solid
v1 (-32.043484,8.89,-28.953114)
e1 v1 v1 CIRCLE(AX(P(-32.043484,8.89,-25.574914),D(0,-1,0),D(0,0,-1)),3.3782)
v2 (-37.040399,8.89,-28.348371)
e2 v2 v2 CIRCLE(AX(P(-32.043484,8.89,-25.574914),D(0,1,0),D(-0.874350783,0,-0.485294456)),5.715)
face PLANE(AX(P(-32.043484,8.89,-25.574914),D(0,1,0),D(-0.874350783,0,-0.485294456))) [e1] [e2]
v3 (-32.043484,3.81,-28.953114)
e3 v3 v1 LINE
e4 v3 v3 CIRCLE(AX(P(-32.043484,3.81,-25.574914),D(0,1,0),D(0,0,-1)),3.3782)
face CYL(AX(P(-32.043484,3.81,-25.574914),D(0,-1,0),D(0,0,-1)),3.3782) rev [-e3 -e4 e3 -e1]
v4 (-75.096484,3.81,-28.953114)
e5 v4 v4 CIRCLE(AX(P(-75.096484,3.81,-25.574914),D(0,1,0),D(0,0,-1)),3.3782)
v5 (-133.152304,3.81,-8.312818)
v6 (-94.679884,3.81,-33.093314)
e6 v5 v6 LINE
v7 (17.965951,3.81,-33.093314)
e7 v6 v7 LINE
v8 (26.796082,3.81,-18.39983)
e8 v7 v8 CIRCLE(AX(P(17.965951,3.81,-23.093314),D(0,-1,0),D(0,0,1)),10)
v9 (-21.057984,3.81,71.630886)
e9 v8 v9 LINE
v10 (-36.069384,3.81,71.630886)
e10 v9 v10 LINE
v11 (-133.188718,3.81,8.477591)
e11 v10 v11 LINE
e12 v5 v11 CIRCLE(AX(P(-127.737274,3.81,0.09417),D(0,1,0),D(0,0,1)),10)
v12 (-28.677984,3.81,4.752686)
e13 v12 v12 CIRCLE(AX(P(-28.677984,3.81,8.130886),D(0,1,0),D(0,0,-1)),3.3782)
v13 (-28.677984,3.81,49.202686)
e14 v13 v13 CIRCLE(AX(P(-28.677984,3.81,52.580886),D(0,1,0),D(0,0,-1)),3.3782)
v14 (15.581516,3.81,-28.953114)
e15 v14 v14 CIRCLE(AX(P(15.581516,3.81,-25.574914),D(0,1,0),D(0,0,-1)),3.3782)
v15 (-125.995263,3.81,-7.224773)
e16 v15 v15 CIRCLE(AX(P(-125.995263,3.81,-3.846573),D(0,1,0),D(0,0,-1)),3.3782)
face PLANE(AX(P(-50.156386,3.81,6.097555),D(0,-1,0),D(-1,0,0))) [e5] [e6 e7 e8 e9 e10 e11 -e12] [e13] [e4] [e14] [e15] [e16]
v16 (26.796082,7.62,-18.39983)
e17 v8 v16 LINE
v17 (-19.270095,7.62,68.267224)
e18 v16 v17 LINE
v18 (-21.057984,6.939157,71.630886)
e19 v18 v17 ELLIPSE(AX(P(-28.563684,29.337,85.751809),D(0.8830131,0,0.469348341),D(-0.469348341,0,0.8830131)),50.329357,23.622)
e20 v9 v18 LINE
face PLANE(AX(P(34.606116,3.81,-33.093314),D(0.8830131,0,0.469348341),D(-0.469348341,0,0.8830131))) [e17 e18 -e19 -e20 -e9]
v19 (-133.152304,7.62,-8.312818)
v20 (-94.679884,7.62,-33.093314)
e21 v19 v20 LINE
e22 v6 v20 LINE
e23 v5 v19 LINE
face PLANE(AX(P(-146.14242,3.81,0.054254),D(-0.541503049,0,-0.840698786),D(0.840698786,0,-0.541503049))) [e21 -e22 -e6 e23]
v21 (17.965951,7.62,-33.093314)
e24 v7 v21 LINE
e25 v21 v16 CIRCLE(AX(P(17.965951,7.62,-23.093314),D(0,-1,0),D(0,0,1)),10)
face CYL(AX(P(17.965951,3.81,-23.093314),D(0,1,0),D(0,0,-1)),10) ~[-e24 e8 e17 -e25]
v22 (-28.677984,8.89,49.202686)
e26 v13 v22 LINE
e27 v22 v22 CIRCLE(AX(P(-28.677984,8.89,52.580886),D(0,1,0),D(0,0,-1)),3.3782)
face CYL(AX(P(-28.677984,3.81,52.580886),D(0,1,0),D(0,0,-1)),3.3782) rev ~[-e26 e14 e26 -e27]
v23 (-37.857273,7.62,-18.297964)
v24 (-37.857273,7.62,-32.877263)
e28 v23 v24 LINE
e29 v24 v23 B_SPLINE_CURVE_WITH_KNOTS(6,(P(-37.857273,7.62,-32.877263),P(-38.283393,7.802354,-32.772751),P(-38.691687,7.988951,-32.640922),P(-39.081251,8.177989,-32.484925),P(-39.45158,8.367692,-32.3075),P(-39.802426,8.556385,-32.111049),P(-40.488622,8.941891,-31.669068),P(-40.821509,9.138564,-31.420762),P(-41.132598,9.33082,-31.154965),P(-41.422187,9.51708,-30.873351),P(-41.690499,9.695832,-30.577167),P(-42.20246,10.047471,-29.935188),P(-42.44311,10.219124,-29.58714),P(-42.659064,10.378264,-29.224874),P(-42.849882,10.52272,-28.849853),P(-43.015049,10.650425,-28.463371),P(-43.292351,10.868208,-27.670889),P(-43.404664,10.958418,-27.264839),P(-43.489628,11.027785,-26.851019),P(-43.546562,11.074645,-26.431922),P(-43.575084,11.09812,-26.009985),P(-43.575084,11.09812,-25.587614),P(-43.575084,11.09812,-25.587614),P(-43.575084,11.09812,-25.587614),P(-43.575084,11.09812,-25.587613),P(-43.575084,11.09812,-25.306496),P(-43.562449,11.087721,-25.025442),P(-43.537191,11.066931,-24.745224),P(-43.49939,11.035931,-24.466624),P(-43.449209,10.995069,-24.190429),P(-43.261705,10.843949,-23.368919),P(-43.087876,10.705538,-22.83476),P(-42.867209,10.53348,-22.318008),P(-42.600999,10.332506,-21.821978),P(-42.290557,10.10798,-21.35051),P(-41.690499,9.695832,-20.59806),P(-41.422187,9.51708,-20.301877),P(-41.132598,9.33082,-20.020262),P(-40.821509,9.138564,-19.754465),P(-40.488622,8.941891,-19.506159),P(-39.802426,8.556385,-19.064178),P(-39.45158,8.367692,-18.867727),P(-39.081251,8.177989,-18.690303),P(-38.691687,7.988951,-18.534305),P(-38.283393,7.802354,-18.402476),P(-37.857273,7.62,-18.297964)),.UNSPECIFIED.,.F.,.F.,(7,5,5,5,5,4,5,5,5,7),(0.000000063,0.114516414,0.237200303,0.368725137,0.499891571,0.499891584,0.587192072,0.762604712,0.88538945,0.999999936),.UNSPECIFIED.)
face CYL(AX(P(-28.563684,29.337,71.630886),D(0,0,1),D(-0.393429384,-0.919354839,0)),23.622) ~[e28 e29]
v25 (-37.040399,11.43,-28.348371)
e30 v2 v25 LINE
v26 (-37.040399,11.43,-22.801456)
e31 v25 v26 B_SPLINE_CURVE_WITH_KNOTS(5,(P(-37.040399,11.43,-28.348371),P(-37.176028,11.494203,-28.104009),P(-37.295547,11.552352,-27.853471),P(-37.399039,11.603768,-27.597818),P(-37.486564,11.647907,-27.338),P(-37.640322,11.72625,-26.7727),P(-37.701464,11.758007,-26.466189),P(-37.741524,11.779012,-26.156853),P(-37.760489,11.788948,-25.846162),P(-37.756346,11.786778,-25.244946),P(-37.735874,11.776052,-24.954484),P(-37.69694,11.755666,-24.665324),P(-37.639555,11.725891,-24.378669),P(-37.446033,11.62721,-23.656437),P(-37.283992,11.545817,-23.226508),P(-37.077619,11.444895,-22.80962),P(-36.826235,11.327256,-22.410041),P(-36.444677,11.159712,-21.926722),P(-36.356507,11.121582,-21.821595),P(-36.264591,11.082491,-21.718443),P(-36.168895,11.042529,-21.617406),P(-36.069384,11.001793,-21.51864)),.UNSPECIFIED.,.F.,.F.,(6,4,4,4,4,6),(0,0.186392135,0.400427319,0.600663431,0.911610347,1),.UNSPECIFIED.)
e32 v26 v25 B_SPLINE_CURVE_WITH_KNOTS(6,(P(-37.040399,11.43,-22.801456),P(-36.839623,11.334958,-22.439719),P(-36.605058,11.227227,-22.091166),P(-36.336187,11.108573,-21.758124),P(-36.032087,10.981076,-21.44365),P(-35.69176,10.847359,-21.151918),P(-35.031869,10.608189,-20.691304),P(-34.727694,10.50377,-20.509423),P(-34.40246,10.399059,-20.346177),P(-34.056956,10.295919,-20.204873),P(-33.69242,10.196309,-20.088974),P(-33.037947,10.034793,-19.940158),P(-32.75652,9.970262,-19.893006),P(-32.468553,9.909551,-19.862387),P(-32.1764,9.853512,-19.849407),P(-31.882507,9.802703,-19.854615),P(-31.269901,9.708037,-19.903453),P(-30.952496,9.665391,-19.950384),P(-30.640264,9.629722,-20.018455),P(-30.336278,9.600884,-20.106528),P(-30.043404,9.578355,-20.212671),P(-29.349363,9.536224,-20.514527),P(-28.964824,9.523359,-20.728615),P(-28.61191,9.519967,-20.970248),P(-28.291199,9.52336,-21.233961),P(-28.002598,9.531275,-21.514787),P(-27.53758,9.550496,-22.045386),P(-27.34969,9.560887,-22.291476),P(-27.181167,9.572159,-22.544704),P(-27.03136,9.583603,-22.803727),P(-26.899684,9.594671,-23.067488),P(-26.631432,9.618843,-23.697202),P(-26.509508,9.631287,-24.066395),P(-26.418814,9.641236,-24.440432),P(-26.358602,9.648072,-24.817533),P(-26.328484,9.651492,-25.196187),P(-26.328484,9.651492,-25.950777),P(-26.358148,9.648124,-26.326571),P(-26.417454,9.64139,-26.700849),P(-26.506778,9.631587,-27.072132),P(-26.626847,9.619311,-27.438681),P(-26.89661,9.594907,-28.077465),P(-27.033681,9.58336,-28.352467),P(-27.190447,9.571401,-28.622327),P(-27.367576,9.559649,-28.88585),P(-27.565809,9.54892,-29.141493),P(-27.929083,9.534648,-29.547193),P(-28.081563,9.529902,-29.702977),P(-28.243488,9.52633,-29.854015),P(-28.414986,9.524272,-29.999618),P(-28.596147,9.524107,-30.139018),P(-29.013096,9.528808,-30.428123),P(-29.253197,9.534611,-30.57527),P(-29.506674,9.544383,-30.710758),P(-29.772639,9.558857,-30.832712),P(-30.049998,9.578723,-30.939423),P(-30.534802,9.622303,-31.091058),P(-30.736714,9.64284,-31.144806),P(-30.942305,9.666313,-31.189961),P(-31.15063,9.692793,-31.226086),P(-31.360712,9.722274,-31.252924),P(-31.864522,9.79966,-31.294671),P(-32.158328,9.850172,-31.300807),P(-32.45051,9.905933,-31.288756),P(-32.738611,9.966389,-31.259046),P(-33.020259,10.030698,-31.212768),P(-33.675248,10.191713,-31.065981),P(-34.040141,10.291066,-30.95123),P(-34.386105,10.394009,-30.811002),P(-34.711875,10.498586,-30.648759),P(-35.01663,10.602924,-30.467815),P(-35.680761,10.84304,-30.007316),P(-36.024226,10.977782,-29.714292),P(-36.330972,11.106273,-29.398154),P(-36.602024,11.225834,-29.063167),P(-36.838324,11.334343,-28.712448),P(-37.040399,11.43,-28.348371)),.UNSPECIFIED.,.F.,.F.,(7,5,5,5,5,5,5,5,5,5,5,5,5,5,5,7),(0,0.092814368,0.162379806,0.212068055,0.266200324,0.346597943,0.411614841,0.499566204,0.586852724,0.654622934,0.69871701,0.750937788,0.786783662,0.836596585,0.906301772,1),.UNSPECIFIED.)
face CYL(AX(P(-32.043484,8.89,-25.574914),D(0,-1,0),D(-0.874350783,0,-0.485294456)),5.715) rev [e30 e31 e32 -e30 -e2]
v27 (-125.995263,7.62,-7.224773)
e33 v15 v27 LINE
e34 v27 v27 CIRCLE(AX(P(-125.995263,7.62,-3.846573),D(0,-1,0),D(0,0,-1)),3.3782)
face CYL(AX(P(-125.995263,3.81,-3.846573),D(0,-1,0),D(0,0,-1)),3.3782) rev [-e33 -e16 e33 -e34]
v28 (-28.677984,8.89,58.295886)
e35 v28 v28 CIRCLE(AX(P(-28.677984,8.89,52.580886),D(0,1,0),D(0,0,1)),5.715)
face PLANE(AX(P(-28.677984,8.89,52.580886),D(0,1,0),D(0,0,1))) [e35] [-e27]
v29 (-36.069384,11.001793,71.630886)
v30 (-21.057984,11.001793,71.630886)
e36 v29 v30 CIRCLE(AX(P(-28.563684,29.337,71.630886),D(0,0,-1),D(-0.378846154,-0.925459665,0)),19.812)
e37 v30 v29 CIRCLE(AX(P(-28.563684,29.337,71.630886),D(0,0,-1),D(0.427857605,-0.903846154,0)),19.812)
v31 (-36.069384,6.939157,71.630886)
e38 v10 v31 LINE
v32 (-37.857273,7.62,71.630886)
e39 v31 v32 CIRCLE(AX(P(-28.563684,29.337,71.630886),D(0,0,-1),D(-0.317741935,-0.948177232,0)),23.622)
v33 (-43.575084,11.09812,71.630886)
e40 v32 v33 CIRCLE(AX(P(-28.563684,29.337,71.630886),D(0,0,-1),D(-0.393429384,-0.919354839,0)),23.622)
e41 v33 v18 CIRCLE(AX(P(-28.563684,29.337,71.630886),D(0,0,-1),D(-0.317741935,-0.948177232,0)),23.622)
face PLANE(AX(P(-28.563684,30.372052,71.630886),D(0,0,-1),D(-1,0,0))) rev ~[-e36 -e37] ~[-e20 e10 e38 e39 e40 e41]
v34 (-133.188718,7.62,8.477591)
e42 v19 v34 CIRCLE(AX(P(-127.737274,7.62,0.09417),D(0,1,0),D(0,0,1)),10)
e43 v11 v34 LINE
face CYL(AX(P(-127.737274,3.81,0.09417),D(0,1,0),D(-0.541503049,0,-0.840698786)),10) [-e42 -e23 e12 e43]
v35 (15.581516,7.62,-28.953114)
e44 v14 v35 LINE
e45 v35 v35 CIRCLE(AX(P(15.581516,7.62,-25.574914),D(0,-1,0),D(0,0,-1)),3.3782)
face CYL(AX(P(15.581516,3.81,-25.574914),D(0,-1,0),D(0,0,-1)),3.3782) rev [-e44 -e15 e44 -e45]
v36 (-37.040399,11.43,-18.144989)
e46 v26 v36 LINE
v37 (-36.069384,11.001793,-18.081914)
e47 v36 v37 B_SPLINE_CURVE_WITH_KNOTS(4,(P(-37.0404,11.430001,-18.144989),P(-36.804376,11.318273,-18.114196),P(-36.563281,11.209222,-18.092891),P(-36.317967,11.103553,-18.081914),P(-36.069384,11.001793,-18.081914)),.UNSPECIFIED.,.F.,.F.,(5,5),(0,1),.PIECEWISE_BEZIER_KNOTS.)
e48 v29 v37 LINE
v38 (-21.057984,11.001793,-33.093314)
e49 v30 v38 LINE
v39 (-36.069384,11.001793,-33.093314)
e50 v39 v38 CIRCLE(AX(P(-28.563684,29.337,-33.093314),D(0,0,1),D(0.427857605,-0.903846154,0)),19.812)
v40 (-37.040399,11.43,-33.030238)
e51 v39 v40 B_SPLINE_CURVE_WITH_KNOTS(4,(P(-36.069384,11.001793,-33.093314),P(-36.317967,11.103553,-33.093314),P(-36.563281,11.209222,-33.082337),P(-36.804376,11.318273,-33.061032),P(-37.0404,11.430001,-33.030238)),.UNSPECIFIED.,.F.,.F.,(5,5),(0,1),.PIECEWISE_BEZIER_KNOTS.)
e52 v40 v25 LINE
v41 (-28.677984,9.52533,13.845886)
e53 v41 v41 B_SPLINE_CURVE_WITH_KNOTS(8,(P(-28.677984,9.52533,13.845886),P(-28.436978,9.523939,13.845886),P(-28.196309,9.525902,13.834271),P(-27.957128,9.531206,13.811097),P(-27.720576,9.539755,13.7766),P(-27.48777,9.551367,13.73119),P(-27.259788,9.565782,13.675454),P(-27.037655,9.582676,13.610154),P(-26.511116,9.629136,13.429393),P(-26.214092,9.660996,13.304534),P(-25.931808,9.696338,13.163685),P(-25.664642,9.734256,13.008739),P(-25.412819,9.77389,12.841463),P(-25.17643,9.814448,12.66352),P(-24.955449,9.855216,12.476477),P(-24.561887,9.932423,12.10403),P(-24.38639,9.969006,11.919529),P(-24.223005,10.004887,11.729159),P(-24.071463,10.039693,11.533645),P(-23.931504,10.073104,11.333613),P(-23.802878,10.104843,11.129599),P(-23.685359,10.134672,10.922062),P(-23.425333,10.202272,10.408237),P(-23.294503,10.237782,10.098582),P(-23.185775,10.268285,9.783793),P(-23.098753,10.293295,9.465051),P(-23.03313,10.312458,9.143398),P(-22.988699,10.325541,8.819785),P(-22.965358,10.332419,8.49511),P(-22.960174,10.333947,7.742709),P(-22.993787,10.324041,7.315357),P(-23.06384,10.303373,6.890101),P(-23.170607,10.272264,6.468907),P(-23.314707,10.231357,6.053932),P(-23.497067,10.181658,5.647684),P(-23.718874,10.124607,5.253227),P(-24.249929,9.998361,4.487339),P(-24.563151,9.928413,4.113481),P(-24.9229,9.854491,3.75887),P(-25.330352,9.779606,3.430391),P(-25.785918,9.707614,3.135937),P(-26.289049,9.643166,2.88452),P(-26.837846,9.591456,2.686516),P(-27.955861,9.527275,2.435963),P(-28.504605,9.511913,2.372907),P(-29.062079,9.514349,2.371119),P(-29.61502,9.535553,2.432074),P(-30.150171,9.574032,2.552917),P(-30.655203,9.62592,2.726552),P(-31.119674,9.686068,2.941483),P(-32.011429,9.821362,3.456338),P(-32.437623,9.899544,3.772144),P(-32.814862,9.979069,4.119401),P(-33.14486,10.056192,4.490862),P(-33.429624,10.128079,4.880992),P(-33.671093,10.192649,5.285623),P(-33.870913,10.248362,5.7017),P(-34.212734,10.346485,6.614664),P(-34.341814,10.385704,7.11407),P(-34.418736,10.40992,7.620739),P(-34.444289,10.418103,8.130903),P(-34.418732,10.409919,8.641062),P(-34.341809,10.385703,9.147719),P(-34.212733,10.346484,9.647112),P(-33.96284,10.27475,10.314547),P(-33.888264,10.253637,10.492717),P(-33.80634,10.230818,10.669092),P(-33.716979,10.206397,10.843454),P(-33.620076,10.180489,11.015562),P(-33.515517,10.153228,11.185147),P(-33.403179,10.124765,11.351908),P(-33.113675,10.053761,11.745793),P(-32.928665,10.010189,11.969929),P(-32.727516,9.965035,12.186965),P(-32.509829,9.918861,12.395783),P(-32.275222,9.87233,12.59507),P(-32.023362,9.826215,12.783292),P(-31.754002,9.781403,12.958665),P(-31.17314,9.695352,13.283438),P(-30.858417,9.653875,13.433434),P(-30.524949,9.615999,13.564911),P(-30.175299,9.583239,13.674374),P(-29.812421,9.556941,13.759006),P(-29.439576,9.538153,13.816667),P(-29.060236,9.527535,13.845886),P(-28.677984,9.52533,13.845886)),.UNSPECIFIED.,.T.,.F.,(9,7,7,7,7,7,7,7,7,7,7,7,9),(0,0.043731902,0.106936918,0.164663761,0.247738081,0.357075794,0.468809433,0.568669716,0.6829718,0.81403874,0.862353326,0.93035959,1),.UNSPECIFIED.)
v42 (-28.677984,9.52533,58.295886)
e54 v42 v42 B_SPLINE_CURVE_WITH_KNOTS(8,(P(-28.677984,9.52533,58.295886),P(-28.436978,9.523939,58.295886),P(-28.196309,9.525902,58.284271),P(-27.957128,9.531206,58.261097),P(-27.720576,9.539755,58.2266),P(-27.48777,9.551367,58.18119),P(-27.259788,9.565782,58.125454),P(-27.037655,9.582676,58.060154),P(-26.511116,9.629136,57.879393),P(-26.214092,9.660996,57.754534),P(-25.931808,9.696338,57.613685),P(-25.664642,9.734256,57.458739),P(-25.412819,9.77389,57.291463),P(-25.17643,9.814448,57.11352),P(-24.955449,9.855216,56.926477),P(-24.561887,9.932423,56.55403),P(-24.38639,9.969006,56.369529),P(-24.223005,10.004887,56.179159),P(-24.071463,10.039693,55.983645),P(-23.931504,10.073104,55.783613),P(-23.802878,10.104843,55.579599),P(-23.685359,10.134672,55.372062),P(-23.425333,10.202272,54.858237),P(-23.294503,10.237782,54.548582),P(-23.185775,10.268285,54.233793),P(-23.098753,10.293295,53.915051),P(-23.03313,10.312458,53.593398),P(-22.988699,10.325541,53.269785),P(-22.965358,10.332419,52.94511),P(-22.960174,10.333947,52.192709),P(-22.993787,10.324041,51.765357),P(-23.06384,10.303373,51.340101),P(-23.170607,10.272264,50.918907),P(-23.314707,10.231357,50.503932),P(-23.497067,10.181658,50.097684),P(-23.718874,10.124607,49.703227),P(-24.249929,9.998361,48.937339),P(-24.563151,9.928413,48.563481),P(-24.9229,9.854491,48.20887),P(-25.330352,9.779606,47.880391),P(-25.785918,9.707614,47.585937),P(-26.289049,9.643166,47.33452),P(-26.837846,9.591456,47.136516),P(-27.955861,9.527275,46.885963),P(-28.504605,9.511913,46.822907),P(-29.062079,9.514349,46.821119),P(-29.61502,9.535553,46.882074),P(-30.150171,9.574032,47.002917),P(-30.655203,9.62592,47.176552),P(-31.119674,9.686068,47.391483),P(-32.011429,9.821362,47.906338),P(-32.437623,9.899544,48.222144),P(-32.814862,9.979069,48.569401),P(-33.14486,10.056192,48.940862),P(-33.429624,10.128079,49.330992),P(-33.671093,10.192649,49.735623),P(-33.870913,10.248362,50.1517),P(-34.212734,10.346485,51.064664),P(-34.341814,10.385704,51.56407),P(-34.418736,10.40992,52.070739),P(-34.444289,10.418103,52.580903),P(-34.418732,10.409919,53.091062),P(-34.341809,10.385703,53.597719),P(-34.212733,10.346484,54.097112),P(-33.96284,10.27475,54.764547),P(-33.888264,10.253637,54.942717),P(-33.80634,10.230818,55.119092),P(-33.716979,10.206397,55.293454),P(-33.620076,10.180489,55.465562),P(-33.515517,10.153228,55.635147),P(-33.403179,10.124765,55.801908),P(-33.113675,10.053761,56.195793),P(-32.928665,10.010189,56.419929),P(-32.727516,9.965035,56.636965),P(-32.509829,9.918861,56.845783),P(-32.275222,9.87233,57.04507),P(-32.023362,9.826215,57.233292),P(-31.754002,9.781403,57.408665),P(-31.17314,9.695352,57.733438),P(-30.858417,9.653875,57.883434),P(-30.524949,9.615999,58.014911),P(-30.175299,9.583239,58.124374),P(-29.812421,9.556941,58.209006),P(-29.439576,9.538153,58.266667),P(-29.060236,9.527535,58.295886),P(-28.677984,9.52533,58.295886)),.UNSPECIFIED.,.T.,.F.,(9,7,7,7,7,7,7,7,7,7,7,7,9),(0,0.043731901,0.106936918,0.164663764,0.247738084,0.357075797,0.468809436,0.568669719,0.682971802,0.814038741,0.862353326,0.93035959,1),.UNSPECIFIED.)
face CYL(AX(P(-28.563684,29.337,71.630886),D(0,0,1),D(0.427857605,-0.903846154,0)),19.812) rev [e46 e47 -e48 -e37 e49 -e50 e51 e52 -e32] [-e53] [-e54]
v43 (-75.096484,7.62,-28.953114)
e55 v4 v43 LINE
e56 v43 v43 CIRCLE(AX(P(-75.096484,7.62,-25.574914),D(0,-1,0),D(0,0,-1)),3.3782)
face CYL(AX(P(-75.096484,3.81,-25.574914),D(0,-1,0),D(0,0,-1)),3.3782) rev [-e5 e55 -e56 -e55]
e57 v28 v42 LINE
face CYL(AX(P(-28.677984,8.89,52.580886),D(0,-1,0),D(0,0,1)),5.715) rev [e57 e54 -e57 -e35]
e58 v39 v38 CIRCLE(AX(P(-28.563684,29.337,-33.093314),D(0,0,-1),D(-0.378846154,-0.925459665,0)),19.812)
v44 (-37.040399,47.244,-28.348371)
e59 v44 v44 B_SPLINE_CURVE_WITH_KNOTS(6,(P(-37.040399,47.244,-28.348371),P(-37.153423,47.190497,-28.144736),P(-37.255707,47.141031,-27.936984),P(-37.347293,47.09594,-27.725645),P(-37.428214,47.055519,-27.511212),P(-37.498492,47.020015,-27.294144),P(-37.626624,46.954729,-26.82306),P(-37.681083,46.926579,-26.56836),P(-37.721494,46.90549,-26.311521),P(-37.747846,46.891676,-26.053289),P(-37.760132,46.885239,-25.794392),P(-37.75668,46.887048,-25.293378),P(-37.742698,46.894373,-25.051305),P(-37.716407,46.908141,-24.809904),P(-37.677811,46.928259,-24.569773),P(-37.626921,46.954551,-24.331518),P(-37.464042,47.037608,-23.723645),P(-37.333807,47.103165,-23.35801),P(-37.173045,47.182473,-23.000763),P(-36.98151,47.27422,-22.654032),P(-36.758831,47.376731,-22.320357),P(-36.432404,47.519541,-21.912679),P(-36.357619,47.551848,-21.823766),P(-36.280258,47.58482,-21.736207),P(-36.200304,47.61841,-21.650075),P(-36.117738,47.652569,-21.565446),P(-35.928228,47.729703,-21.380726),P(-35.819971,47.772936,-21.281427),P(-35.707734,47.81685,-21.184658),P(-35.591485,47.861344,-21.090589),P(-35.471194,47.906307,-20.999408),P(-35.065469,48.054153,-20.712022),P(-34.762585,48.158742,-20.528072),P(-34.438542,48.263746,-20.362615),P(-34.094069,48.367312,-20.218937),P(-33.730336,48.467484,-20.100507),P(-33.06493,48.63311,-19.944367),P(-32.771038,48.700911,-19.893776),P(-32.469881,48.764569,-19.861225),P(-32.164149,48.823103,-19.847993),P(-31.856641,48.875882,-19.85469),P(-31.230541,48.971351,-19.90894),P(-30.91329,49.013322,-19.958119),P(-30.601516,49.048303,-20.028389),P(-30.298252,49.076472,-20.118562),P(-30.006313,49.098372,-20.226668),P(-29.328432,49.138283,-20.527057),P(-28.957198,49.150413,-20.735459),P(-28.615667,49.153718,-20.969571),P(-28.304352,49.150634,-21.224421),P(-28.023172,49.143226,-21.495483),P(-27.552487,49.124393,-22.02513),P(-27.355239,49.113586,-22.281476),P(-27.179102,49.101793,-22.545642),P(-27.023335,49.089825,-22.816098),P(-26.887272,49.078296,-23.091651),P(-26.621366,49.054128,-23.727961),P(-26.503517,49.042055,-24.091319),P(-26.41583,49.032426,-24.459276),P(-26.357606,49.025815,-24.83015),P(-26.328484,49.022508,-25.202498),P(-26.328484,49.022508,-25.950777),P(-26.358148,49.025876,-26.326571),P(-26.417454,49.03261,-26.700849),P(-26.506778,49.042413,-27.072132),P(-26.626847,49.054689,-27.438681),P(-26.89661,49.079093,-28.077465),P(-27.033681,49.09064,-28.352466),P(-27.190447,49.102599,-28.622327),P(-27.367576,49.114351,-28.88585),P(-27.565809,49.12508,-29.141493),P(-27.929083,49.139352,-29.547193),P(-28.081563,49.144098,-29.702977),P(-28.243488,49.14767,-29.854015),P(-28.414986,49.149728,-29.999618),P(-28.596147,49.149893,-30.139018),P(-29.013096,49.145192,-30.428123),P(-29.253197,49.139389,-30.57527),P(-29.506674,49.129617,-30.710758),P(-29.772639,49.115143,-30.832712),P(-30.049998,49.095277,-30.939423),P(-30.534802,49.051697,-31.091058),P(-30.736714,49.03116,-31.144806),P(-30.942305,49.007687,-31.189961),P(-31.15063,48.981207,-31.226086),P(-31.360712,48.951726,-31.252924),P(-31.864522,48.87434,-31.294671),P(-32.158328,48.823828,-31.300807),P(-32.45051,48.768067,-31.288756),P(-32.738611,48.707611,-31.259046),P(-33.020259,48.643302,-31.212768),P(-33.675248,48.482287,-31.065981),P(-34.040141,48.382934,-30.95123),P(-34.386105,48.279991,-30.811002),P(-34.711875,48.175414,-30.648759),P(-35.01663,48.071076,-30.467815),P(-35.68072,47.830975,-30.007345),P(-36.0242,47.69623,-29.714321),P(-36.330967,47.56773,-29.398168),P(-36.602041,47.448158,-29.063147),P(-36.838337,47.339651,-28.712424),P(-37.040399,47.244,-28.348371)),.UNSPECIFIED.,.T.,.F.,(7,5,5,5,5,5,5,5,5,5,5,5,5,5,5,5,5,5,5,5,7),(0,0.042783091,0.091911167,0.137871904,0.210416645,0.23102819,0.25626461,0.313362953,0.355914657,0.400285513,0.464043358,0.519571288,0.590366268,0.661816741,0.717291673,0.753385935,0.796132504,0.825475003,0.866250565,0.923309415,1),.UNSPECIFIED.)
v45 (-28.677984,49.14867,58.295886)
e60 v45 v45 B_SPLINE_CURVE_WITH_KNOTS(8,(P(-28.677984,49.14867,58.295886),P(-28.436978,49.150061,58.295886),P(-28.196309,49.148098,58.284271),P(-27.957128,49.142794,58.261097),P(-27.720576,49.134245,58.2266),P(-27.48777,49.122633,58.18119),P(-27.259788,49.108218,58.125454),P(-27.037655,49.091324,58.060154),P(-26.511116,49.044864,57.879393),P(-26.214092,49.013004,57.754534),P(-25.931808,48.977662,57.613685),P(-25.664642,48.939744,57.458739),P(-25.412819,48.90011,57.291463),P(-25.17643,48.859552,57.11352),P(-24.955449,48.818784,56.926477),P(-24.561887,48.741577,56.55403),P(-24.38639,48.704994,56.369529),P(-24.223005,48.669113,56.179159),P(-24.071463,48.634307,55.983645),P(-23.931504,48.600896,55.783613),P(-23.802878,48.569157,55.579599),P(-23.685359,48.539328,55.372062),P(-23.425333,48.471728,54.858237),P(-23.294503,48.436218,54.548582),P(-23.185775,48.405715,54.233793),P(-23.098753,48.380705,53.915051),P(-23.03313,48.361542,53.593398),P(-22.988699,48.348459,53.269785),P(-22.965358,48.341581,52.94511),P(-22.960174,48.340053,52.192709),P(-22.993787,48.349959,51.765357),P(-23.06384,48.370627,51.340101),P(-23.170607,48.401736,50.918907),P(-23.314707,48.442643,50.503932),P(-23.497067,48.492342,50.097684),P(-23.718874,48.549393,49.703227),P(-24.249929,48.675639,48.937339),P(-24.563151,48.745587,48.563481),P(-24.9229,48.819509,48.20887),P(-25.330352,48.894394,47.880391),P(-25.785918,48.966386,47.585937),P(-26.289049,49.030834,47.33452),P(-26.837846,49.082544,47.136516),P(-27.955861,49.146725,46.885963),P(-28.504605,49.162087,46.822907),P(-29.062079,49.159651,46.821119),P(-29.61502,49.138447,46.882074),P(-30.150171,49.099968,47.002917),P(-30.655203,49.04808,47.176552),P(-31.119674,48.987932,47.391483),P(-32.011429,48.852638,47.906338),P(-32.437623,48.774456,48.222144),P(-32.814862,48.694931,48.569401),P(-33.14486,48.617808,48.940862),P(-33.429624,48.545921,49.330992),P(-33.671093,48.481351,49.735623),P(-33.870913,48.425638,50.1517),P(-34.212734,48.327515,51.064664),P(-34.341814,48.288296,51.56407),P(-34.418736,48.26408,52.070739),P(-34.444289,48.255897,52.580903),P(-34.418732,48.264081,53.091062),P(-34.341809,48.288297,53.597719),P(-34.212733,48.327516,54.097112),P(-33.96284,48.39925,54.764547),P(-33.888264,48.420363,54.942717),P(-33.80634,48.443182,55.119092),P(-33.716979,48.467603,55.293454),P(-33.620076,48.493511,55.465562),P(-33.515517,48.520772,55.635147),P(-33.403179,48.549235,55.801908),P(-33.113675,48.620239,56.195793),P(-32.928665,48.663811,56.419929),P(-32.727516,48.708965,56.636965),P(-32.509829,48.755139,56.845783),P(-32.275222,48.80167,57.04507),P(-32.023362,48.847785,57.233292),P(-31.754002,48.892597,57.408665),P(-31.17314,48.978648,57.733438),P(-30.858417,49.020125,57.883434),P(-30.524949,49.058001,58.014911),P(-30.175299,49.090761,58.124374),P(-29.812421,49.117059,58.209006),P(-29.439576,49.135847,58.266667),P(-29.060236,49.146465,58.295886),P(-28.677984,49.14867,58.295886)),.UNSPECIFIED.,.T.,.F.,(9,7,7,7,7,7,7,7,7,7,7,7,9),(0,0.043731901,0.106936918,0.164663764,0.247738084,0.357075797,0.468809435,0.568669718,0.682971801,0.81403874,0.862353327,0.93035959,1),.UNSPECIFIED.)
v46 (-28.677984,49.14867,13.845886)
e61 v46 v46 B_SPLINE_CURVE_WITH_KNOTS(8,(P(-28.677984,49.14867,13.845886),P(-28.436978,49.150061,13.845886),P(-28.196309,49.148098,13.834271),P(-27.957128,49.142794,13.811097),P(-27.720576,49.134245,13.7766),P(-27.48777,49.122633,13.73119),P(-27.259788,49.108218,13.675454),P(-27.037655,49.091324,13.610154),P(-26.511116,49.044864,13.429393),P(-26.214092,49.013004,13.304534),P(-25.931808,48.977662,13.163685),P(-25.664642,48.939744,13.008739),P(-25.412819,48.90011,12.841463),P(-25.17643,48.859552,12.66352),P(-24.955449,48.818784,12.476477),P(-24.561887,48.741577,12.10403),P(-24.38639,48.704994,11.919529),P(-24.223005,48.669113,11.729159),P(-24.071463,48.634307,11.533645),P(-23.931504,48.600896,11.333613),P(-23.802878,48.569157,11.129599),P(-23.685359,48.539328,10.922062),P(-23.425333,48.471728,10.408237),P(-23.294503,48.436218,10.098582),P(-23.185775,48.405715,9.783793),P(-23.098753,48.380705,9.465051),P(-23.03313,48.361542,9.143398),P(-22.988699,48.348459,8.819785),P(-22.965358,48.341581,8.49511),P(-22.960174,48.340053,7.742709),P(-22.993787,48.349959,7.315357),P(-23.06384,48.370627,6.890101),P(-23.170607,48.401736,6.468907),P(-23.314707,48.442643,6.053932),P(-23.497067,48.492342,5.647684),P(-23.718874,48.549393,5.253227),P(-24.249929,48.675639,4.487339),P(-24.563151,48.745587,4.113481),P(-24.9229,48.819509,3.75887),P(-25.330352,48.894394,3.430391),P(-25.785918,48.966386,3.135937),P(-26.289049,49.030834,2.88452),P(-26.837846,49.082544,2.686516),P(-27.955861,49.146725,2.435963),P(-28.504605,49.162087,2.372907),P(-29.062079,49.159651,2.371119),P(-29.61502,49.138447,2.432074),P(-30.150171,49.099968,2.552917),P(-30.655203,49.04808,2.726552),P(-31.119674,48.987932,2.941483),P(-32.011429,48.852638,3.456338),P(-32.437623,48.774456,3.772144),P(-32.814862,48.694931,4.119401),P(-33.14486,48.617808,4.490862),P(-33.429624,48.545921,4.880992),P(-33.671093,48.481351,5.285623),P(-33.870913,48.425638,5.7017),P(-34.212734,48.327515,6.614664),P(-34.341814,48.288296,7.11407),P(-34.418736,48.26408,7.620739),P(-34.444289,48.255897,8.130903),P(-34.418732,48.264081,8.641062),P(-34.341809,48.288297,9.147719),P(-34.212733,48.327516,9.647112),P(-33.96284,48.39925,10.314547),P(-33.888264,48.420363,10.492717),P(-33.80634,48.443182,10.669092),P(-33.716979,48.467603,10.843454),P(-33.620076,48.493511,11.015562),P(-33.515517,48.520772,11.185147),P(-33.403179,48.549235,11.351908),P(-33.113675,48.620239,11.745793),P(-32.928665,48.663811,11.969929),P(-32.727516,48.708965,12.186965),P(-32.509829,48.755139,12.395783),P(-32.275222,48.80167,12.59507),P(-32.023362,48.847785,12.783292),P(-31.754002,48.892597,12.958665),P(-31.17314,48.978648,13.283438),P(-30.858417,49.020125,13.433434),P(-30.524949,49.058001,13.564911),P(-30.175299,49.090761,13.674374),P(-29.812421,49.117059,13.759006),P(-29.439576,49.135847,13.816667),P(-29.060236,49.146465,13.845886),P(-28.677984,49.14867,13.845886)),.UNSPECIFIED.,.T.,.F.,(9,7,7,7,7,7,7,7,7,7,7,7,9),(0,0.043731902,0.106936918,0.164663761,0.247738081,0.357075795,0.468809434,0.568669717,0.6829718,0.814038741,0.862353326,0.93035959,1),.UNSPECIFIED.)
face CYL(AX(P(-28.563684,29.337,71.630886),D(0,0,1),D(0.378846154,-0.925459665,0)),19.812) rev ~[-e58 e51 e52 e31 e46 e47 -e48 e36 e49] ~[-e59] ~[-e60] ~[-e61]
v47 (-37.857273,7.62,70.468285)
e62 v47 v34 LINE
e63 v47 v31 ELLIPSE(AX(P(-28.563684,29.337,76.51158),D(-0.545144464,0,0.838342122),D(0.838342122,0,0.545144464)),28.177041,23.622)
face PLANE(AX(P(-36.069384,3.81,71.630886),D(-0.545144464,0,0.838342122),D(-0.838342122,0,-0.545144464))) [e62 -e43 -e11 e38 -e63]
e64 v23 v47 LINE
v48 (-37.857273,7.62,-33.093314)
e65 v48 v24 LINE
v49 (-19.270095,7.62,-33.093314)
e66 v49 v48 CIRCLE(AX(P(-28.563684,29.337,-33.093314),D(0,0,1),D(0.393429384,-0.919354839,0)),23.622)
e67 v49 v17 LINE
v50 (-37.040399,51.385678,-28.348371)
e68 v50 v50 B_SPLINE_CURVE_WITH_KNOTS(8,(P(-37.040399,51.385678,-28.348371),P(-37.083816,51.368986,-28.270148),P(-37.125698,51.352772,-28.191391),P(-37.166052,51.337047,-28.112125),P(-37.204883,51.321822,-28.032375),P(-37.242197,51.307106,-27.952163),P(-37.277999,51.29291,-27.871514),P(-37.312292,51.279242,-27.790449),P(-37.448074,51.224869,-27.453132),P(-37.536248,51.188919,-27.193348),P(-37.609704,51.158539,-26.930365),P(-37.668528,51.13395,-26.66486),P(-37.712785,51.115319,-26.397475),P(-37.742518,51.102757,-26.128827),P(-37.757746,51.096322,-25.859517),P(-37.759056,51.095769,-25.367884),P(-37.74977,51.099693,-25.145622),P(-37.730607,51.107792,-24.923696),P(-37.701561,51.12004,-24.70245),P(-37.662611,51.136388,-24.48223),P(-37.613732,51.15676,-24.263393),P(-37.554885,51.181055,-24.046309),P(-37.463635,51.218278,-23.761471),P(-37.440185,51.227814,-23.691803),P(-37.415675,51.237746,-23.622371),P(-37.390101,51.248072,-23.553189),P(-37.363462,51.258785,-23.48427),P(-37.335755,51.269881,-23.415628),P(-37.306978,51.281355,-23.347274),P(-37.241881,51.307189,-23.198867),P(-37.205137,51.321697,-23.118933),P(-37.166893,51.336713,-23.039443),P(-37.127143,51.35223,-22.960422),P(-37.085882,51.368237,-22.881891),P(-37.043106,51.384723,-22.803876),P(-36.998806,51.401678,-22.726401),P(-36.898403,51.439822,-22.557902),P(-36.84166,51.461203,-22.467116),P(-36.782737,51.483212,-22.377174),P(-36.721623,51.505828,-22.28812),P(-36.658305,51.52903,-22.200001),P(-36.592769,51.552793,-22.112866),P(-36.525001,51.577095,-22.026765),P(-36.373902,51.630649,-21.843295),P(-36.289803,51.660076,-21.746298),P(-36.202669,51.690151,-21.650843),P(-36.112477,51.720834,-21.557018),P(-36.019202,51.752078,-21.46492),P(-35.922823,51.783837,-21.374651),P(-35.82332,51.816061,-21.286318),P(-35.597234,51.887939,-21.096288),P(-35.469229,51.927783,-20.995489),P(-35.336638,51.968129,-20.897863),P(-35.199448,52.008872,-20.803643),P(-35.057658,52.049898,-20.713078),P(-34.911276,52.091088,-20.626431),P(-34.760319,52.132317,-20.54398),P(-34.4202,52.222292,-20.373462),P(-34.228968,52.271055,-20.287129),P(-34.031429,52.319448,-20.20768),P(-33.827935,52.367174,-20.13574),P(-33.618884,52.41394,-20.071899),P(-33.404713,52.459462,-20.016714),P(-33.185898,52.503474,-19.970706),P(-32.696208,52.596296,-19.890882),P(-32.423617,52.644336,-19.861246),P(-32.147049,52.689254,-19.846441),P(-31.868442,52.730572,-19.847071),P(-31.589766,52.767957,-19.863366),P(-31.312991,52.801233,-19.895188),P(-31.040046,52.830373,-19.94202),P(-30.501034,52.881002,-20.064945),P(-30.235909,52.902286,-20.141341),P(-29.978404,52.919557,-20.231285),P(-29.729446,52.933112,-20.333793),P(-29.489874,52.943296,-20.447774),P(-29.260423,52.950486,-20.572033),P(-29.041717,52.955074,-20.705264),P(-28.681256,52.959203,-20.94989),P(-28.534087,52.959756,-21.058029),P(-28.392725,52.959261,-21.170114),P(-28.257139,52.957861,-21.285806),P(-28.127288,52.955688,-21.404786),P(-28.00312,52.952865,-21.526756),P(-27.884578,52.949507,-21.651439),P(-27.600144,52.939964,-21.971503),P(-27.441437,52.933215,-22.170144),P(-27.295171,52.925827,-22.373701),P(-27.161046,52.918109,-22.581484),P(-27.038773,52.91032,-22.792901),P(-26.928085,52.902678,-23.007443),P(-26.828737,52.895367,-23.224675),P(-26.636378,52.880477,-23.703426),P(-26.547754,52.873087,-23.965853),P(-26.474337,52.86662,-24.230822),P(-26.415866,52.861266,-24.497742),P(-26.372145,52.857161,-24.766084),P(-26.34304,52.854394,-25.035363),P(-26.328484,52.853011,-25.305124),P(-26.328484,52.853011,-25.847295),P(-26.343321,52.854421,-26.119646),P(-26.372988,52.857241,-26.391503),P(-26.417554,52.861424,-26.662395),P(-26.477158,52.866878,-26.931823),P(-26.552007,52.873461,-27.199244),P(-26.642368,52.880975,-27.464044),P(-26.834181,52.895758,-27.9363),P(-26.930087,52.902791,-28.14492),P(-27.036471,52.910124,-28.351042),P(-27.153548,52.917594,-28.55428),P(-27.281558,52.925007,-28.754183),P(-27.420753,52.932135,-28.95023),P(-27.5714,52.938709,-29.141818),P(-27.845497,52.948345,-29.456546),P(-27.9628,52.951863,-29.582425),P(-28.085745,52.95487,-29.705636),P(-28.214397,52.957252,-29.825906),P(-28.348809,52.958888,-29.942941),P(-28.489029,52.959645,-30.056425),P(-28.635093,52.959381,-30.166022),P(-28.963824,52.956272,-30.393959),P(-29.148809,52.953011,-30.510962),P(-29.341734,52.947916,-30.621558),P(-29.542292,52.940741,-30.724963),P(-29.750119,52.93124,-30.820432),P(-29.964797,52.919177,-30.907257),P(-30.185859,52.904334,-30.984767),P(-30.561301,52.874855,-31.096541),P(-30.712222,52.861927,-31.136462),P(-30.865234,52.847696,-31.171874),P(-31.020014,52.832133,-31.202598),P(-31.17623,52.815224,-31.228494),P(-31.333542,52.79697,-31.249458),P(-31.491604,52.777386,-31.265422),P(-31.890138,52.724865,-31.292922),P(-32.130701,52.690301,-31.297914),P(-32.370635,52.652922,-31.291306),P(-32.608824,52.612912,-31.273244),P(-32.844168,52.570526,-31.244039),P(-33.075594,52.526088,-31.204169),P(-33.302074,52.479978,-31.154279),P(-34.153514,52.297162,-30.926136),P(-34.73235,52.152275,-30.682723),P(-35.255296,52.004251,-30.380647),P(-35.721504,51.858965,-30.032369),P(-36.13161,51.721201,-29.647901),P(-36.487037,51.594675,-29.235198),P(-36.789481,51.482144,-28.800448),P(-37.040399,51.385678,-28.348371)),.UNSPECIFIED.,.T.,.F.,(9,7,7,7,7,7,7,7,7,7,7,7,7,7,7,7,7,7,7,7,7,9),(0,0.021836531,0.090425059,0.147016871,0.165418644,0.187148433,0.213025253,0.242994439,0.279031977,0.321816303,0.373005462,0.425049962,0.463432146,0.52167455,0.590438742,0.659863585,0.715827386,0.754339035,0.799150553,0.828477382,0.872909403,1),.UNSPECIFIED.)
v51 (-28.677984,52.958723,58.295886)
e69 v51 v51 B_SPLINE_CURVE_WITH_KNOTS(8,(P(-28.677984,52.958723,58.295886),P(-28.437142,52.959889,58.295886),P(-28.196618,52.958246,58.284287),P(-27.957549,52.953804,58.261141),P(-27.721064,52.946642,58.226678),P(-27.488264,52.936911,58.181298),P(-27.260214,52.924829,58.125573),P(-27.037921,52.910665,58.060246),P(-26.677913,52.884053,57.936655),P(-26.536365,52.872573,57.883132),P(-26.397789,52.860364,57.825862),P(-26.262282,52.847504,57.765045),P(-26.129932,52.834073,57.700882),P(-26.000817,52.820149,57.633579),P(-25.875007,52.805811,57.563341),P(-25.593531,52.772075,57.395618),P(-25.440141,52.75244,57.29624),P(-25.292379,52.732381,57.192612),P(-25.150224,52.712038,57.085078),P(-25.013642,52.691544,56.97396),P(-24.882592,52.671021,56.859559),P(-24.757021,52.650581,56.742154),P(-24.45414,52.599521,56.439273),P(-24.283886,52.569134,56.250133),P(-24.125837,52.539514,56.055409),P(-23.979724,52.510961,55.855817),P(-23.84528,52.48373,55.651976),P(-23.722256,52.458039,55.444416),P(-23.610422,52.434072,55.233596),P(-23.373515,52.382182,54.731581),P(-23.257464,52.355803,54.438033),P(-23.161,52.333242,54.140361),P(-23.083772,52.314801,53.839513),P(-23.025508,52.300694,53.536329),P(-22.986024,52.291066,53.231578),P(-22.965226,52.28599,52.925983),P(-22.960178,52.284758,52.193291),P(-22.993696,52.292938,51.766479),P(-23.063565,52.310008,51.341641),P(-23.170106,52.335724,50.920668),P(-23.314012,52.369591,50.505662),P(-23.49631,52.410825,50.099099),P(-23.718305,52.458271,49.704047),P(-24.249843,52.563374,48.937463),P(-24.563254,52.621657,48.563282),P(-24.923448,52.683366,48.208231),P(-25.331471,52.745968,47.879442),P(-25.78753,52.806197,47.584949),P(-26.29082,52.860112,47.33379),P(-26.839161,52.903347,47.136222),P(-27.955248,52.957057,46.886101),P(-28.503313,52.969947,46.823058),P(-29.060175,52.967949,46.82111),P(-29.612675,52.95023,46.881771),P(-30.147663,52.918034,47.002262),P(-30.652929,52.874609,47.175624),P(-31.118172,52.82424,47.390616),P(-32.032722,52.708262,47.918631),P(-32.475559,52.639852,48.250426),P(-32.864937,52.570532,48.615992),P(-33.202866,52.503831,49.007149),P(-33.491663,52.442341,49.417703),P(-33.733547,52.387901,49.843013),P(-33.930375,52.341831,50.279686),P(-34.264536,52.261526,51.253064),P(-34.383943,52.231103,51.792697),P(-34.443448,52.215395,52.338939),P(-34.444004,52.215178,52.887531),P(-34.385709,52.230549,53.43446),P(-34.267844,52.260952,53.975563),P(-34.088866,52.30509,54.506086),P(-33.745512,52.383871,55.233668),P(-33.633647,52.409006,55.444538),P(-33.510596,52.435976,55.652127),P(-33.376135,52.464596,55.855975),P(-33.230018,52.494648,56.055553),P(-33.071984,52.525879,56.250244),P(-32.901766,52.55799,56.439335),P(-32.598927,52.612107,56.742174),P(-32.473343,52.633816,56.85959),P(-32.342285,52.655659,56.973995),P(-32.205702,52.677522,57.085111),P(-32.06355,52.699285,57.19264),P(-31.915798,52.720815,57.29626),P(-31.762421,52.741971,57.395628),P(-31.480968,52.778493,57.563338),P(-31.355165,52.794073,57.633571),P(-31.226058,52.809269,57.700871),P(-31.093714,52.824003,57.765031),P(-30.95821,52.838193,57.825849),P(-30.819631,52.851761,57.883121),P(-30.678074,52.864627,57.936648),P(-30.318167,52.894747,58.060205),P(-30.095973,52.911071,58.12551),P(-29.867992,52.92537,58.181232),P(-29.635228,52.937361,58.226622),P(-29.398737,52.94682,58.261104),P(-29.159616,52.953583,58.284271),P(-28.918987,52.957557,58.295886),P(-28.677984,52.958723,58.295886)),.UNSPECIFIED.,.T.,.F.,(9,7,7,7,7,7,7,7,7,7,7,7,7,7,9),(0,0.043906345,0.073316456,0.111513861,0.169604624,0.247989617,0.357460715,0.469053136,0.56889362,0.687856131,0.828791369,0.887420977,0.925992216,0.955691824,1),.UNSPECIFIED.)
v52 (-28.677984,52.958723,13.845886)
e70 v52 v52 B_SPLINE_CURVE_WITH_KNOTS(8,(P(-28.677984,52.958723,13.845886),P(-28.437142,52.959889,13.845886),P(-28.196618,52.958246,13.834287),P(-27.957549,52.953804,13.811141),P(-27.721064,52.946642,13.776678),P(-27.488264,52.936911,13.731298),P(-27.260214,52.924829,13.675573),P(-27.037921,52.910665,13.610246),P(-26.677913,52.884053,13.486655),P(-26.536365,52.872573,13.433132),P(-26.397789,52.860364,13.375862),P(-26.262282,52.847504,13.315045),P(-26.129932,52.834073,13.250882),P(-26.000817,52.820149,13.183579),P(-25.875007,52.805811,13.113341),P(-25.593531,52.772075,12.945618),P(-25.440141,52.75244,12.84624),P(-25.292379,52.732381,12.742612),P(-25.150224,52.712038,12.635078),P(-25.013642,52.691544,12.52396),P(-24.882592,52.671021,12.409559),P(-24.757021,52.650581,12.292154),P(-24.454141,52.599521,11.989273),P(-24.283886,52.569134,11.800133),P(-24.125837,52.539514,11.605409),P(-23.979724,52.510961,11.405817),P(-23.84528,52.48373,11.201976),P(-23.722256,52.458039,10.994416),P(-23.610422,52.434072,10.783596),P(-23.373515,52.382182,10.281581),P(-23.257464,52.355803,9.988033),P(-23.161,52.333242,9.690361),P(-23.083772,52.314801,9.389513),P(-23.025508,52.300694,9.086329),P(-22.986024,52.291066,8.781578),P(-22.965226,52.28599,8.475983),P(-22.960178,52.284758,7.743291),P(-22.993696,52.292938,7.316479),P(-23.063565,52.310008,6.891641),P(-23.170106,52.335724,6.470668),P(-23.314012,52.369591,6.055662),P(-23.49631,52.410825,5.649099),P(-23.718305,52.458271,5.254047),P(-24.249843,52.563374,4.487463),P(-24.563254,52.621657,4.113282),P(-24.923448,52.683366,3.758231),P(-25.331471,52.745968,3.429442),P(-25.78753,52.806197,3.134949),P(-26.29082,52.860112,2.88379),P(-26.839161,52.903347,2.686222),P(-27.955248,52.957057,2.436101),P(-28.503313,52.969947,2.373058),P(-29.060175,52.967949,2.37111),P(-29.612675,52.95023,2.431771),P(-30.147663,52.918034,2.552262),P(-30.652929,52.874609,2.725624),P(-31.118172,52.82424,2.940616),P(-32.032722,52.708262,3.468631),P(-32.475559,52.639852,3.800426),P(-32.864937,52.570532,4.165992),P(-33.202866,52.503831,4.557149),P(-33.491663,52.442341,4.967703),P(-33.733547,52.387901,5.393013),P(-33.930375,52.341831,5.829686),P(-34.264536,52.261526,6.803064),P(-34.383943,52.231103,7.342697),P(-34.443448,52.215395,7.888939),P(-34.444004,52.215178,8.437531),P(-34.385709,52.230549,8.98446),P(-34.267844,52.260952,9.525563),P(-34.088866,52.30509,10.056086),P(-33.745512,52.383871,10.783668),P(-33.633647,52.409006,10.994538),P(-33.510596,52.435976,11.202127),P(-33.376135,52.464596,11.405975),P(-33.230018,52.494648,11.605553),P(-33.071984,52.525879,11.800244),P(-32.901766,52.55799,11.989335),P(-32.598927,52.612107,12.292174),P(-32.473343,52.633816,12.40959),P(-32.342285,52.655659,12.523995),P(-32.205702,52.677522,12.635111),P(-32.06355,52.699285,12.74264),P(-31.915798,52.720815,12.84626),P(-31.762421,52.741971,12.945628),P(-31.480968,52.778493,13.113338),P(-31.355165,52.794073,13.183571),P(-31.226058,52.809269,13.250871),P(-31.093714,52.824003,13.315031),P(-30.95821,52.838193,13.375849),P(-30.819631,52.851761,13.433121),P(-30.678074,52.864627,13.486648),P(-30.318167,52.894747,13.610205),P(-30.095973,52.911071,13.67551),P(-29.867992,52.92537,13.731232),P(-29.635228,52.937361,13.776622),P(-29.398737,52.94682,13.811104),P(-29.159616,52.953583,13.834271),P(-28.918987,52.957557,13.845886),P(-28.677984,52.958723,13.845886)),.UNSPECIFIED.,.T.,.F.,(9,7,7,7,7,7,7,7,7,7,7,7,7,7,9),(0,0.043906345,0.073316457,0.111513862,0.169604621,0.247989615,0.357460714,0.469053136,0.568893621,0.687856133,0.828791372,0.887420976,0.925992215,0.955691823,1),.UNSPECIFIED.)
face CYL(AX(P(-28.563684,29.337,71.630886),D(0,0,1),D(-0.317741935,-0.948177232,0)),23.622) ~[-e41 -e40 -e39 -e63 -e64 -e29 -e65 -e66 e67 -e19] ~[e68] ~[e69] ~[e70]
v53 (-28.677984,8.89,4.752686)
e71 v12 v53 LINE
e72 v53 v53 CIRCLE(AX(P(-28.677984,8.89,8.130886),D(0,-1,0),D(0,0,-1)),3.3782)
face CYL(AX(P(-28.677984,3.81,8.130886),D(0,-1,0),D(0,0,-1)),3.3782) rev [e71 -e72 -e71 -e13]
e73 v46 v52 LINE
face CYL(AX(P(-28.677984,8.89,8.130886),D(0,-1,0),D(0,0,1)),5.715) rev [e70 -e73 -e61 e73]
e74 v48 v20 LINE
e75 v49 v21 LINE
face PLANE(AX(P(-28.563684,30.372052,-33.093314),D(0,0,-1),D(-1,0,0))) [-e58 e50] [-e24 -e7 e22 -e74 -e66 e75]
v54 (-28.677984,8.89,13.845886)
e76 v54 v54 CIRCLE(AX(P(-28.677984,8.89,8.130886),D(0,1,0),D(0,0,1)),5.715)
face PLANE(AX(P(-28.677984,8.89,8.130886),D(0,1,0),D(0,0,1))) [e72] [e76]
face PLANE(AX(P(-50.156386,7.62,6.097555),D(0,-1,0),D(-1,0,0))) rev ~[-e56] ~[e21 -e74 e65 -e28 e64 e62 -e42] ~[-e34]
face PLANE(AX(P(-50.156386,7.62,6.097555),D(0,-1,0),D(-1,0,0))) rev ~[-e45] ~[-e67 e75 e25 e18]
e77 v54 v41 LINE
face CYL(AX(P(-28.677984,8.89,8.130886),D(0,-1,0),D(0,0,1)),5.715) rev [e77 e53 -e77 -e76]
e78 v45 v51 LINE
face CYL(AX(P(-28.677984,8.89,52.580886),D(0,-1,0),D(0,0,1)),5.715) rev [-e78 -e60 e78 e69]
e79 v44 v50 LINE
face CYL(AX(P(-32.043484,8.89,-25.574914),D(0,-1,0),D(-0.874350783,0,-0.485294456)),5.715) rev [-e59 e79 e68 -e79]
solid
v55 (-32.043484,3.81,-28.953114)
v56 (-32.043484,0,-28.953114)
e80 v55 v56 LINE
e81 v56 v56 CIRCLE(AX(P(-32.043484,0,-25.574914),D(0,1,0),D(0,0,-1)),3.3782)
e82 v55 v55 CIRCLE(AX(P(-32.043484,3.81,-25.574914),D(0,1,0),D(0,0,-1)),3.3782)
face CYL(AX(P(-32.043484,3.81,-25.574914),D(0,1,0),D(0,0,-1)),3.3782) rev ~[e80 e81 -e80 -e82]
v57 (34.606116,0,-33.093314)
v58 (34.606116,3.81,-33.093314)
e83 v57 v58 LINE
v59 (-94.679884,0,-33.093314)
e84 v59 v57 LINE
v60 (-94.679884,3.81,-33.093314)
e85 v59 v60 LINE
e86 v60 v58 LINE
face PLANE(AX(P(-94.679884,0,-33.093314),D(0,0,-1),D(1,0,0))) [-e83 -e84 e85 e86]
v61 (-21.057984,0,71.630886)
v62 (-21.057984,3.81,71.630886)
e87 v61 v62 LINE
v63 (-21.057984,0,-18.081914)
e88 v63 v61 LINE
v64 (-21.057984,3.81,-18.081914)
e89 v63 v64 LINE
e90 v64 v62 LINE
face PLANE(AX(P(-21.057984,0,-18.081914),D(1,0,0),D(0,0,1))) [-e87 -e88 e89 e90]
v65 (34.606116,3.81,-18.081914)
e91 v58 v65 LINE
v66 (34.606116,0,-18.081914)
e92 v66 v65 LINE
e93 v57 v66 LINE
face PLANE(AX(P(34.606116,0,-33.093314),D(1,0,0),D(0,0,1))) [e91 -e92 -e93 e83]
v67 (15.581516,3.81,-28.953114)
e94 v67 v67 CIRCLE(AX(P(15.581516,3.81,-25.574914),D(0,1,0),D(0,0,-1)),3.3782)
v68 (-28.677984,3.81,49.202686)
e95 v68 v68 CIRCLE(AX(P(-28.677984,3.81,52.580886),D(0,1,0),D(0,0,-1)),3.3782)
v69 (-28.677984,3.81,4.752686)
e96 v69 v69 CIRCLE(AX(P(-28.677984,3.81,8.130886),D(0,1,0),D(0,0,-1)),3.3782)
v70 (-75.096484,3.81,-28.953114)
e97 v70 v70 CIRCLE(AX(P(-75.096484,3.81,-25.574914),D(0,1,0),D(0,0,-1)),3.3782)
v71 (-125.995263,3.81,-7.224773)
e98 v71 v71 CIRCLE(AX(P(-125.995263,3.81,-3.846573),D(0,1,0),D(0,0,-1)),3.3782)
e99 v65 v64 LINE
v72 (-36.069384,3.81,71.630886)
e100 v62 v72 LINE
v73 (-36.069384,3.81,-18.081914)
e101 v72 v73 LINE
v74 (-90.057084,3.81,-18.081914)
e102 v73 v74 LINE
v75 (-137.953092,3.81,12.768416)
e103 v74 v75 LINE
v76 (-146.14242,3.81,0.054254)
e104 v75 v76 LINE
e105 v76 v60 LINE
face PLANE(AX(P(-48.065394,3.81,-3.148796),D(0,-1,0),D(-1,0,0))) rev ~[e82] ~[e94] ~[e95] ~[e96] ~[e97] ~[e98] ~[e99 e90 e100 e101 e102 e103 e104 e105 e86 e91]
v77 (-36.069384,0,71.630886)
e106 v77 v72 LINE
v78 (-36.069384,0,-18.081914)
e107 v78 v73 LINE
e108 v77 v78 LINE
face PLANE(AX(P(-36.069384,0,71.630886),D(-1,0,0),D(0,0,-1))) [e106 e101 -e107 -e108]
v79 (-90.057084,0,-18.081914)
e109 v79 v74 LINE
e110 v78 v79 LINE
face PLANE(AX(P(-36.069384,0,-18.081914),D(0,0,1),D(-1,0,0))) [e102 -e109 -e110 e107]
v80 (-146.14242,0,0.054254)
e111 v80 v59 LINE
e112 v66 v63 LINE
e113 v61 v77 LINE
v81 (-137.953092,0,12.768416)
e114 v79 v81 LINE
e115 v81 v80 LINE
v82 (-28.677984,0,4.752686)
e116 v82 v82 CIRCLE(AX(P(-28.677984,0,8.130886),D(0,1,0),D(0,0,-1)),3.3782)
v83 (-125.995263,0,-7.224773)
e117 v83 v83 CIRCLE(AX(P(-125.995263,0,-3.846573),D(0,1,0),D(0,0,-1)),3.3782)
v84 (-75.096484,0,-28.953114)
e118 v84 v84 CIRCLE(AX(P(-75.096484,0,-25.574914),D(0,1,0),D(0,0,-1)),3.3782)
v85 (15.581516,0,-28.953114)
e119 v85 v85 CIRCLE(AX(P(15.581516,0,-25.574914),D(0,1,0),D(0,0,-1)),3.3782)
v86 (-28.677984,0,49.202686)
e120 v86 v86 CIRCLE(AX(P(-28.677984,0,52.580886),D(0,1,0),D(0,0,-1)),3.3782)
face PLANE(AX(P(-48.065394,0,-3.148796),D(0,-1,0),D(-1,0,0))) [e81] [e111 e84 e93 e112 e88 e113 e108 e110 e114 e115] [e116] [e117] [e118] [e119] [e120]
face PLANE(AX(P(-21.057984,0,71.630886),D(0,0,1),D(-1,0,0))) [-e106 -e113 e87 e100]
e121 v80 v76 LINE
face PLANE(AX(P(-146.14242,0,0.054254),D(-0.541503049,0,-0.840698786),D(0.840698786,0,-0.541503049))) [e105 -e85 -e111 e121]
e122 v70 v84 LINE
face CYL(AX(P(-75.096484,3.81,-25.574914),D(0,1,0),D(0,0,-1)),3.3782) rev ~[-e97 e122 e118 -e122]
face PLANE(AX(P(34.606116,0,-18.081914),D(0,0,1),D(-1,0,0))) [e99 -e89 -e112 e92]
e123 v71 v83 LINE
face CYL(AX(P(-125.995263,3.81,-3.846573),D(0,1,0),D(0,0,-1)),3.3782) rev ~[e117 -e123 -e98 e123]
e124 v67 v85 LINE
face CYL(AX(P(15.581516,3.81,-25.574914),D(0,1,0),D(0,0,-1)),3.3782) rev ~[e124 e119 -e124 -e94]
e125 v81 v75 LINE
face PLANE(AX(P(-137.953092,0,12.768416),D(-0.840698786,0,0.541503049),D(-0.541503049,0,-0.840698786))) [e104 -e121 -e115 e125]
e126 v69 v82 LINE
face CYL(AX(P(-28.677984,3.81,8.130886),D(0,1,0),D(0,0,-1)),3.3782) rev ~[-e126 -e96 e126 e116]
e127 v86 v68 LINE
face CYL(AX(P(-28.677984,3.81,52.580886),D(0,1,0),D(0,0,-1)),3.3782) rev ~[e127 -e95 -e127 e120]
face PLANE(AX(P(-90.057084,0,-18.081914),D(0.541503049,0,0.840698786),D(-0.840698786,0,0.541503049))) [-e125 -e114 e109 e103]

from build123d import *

# Parameters (mm, degrees)
BOSS_EXTRUDE1_DEPTH     = 3.81
BOSS_EXTRUDE2_DEPTH     = 3.81
BOSS_EXTRUDE3_DEPTH     = 3.81
BOSS_EXTRUDE4_DEPTH     = 104.7242
SKETCH2_R               = 3.3782
CUT_EXTRUDE1_DEPTH      = 7.62
CUT_EXTRUDE3_DEPTH      = 45.974
CUT_EXTRUDE3_DEPTH_BACK = 2.54
SKETCH18_R              = 5.715
CUT_EXTRUDE5_DEPTH      = 188.428441235
CUT_EXTRUDE7_DEPTH      = 188.428441235
FILLET1_R               = 10
FILLET2_R               = 10


with BuildPart() as part:
    # Sketch1 → Boss-Extrude1 (new body)
    with BuildSketch(Plane(origin=(0, 0, 0), x_dir=(1, 0, 0), z_dir=(0, 1, 0))):
        Polygon((-94.679884126, 33.093313636), (34.606115874, 33.093313636), (34.606115874, 18.081913636), (-21.057984126, 18.081913636), (-21.057984126, -71.630886364), (-36.069384126, -71.630886364), (-36.069384126, 18.081913636), (-90.057084126, 18.081913636), (-137.953092438, -12.768415824), (-146.142419597, -0.054253981), align=None)
    extrude(amount=BOSS_EXTRUDE1_DEPTH)


with BuildPart() as body_2:
    # Sketch4 → Boss-Extrude2 (new body)
    with BuildSketch(Plane(origin=(0, 3.81, 0), x_dir=(1, 0, 0), z_dir=(0, 1, 0))):
        Polygon((-146.142419597, -0.054253981), (-94.679884126, 33.093313636), (34.606115874, 33.093313636), (-21.057984126, -71.630886364), (-36.069384126, -71.630886364), align=None)
    extrude(amount=BOSS_EXTRUDE2_DEPTH)

    # Sketch9 → Boss-Extrude3 (add)
    with BuildSketch(Plane(origin=(0, 7.62, 0), x_dir=(1, 0, 0), z_dir=(0, 1, 0))):
        with BuildLine():
            Line((-36.069384126, -71.630886364), (-21.057984126, -71.630886364))
            Line((-21.057984126, -71.630886364), (-21.057984126, 18.081913636))
            Line((-21.057984126, 18.081913636), (-21.057984126, 33.093313636))
            Line((-21.057984126, 33.093313636), (-36.069384126, 33.093313636))
            ThreePointArc((-36.069384126, 33.093313636), (-43.575084126, 25.587613636), (-36.069384126, 18.081913636))
            Line((-36.069384126, 18.081913636), (-36.069384126, -71.630886364))
        make_face()
    extrude(amount=BOSS_EXTRUDE3_DEPTH)

    # Sketch13 → Boss-Extrude4 (add, through all)
    with BuildSketch(Plane.XY.offset(71.630886364)):
        with BuildLine():
            Line((-36.069384126, 11.001793115), (-36.069384126, 6.939157436))
            ThreePointArc((-36.069384126, 6.939157436), (-28.563684126, 52.959), (-21.057984126, 6.939157436))
            Line((-21.057984126, 6.939157436), (-21.057984126, 11.001793115))
            ThreePointArc((-21.057984126, 11.001793115), (-28.563684126, 49.149), (-36.069384126, 11.001793115))
        make_face()
    extrude(amount=-BOSS_EXTRUDE4_DEPTH)


with BuildPart() as cut_extrude1_tool:
    # Sketch2 → Cut-Extrude1 (new, symmetric)
    with BuildSketch(Plane(origin=(0, 3.81, 0), x_dir=(1, 0, 0), z_dir=(0, 1, 0))):
        with Locations(Location((-125.995262913, 3.846573254, 0), (0, 0, 90))):
            Circle(SKETCH2_R)
        with Locations(Location((-75.096484126, 25.574913636, 0), (0, 0, 90))):
            Circle(SKETCH2_R)
        with Locations(Location((-32.043484126, 25.574913636, 0), (0, 0, 90))):
            Circle(SKETCH2_R)
        with Locations(Location((15.581515874, 25.574913636, 0), (0, 0, 90))):
            Circle(SKETCH2_R)
        with Locations(Location((-28.677984126, -8.130886364, 0), (0, 0, 90))):
            Circle(SKETCH2_R)
        with Locations(Location((-28.677984126, -52.580886364, 0), (0, 0, 90))):
            Circle(SKETCH2_R)
    extrude(amount=CUT_EXTRUDE1_DEPTH, both=True)


with BuildPart() as part_1:
    add(part.part)

    # Cut-Extrude1: cut by cut_extrude1_tool
    add(cut_extrude1_tool.part, mode=Mode.SUBTRACT)


with BuildPart() as body_2_1:
    add(body_2.part)

    # Cut-Extrude1: cut by cut_extrude1_tool
    add(cut_extrude1_tool.part, mode=Mode.SUBTRACT)

    # Sketch18 → Cut-Extrude3 (cut, two sides: drawn at the far end of the back side and taken through both)
    with BuildSketch(Plane(origin=(0, 11.43, 0), x_dir=(1, 0, 0), z_dir=(0, 1, 0)).offset(-CUT_EXTRUDE3_DEPTH_BACK)):
        with Locations(Location((-28.677984126, -52.580886364, 0), (0, 0, 270))):
            Circle(SKETCH18_R)
        with Locations(Location((-28.677984126, -8.130886364, 0), (0, 0, 270))):
            Circle(SKETCH18_R)
        with Locations(Location((-32.043484126, 25.574913636, 0), (0, 0, 150.968233854))):
            Circle(SKETCH18_R)
    extrude(amount=CUT_EXTRUDE3_DEPTH + CUT_EXTRUDE3_DEPTH_BACK, mode=Mode.SUBTRACT)

    # Sketch20 → Cut-Extrude5 (cut, through all)
    with BuildSketch(Plane.XY.offset(71.630886364)):
        with BuildLine():
            Line((-37.040398997, 11.43), (-20.086969256, 11.43))
            ThreePointArc((-20.086969256, 11.43), (-28.563684126, 9.525), (-37.040398997, 11.43))
        make_face()
    extrude(amount=-CUT_EXTRUDE5_DEPTH, mode=Mode.SUBTRACT)

    # Sketch21 → Cut-Extrude7 (cut, through all)
    with BuildSketch(Plane.XY.offset(71.630886364)):
        with BuildLine():
            Line((-43.575084126, 7.62), (-37.857273046, 7.62))
            ThreePointArc((-37.857273046, 7.62), (-40.839980424, 9.155537386), (-43.575084126, 11.098119715))
            Line((-43.575084126, 11.098119715), (-43.575084126, 9.359059858))
            Line((-43.575084126, 9.359059858), (-43.575084126, 7.62))
        make_face()
    extrude(amount=-CUT_EXTRUDE7_DEPTH, mode=Mode.SUBTRACT)

    # Fillet1
    fillet1_edges = [body_2_1.edges().sort_by_distance(p)[0] for p in [
        (34.606115874, 5.715, -33.093313636),
    ]]
    fillet(fillet1_edges, radius=FILLET1_R)

    # Fillet2
    fillet2_edges = [body_2_1.edges().sort_by_distance(p)[0] for p in [
        (-146.142419597, 5.715, 0.054253981),
    ]]
    fillet(fillet2_edges, radius=FILLET2_R)


solid = Compound([part_1.part, body_2_1.part])
